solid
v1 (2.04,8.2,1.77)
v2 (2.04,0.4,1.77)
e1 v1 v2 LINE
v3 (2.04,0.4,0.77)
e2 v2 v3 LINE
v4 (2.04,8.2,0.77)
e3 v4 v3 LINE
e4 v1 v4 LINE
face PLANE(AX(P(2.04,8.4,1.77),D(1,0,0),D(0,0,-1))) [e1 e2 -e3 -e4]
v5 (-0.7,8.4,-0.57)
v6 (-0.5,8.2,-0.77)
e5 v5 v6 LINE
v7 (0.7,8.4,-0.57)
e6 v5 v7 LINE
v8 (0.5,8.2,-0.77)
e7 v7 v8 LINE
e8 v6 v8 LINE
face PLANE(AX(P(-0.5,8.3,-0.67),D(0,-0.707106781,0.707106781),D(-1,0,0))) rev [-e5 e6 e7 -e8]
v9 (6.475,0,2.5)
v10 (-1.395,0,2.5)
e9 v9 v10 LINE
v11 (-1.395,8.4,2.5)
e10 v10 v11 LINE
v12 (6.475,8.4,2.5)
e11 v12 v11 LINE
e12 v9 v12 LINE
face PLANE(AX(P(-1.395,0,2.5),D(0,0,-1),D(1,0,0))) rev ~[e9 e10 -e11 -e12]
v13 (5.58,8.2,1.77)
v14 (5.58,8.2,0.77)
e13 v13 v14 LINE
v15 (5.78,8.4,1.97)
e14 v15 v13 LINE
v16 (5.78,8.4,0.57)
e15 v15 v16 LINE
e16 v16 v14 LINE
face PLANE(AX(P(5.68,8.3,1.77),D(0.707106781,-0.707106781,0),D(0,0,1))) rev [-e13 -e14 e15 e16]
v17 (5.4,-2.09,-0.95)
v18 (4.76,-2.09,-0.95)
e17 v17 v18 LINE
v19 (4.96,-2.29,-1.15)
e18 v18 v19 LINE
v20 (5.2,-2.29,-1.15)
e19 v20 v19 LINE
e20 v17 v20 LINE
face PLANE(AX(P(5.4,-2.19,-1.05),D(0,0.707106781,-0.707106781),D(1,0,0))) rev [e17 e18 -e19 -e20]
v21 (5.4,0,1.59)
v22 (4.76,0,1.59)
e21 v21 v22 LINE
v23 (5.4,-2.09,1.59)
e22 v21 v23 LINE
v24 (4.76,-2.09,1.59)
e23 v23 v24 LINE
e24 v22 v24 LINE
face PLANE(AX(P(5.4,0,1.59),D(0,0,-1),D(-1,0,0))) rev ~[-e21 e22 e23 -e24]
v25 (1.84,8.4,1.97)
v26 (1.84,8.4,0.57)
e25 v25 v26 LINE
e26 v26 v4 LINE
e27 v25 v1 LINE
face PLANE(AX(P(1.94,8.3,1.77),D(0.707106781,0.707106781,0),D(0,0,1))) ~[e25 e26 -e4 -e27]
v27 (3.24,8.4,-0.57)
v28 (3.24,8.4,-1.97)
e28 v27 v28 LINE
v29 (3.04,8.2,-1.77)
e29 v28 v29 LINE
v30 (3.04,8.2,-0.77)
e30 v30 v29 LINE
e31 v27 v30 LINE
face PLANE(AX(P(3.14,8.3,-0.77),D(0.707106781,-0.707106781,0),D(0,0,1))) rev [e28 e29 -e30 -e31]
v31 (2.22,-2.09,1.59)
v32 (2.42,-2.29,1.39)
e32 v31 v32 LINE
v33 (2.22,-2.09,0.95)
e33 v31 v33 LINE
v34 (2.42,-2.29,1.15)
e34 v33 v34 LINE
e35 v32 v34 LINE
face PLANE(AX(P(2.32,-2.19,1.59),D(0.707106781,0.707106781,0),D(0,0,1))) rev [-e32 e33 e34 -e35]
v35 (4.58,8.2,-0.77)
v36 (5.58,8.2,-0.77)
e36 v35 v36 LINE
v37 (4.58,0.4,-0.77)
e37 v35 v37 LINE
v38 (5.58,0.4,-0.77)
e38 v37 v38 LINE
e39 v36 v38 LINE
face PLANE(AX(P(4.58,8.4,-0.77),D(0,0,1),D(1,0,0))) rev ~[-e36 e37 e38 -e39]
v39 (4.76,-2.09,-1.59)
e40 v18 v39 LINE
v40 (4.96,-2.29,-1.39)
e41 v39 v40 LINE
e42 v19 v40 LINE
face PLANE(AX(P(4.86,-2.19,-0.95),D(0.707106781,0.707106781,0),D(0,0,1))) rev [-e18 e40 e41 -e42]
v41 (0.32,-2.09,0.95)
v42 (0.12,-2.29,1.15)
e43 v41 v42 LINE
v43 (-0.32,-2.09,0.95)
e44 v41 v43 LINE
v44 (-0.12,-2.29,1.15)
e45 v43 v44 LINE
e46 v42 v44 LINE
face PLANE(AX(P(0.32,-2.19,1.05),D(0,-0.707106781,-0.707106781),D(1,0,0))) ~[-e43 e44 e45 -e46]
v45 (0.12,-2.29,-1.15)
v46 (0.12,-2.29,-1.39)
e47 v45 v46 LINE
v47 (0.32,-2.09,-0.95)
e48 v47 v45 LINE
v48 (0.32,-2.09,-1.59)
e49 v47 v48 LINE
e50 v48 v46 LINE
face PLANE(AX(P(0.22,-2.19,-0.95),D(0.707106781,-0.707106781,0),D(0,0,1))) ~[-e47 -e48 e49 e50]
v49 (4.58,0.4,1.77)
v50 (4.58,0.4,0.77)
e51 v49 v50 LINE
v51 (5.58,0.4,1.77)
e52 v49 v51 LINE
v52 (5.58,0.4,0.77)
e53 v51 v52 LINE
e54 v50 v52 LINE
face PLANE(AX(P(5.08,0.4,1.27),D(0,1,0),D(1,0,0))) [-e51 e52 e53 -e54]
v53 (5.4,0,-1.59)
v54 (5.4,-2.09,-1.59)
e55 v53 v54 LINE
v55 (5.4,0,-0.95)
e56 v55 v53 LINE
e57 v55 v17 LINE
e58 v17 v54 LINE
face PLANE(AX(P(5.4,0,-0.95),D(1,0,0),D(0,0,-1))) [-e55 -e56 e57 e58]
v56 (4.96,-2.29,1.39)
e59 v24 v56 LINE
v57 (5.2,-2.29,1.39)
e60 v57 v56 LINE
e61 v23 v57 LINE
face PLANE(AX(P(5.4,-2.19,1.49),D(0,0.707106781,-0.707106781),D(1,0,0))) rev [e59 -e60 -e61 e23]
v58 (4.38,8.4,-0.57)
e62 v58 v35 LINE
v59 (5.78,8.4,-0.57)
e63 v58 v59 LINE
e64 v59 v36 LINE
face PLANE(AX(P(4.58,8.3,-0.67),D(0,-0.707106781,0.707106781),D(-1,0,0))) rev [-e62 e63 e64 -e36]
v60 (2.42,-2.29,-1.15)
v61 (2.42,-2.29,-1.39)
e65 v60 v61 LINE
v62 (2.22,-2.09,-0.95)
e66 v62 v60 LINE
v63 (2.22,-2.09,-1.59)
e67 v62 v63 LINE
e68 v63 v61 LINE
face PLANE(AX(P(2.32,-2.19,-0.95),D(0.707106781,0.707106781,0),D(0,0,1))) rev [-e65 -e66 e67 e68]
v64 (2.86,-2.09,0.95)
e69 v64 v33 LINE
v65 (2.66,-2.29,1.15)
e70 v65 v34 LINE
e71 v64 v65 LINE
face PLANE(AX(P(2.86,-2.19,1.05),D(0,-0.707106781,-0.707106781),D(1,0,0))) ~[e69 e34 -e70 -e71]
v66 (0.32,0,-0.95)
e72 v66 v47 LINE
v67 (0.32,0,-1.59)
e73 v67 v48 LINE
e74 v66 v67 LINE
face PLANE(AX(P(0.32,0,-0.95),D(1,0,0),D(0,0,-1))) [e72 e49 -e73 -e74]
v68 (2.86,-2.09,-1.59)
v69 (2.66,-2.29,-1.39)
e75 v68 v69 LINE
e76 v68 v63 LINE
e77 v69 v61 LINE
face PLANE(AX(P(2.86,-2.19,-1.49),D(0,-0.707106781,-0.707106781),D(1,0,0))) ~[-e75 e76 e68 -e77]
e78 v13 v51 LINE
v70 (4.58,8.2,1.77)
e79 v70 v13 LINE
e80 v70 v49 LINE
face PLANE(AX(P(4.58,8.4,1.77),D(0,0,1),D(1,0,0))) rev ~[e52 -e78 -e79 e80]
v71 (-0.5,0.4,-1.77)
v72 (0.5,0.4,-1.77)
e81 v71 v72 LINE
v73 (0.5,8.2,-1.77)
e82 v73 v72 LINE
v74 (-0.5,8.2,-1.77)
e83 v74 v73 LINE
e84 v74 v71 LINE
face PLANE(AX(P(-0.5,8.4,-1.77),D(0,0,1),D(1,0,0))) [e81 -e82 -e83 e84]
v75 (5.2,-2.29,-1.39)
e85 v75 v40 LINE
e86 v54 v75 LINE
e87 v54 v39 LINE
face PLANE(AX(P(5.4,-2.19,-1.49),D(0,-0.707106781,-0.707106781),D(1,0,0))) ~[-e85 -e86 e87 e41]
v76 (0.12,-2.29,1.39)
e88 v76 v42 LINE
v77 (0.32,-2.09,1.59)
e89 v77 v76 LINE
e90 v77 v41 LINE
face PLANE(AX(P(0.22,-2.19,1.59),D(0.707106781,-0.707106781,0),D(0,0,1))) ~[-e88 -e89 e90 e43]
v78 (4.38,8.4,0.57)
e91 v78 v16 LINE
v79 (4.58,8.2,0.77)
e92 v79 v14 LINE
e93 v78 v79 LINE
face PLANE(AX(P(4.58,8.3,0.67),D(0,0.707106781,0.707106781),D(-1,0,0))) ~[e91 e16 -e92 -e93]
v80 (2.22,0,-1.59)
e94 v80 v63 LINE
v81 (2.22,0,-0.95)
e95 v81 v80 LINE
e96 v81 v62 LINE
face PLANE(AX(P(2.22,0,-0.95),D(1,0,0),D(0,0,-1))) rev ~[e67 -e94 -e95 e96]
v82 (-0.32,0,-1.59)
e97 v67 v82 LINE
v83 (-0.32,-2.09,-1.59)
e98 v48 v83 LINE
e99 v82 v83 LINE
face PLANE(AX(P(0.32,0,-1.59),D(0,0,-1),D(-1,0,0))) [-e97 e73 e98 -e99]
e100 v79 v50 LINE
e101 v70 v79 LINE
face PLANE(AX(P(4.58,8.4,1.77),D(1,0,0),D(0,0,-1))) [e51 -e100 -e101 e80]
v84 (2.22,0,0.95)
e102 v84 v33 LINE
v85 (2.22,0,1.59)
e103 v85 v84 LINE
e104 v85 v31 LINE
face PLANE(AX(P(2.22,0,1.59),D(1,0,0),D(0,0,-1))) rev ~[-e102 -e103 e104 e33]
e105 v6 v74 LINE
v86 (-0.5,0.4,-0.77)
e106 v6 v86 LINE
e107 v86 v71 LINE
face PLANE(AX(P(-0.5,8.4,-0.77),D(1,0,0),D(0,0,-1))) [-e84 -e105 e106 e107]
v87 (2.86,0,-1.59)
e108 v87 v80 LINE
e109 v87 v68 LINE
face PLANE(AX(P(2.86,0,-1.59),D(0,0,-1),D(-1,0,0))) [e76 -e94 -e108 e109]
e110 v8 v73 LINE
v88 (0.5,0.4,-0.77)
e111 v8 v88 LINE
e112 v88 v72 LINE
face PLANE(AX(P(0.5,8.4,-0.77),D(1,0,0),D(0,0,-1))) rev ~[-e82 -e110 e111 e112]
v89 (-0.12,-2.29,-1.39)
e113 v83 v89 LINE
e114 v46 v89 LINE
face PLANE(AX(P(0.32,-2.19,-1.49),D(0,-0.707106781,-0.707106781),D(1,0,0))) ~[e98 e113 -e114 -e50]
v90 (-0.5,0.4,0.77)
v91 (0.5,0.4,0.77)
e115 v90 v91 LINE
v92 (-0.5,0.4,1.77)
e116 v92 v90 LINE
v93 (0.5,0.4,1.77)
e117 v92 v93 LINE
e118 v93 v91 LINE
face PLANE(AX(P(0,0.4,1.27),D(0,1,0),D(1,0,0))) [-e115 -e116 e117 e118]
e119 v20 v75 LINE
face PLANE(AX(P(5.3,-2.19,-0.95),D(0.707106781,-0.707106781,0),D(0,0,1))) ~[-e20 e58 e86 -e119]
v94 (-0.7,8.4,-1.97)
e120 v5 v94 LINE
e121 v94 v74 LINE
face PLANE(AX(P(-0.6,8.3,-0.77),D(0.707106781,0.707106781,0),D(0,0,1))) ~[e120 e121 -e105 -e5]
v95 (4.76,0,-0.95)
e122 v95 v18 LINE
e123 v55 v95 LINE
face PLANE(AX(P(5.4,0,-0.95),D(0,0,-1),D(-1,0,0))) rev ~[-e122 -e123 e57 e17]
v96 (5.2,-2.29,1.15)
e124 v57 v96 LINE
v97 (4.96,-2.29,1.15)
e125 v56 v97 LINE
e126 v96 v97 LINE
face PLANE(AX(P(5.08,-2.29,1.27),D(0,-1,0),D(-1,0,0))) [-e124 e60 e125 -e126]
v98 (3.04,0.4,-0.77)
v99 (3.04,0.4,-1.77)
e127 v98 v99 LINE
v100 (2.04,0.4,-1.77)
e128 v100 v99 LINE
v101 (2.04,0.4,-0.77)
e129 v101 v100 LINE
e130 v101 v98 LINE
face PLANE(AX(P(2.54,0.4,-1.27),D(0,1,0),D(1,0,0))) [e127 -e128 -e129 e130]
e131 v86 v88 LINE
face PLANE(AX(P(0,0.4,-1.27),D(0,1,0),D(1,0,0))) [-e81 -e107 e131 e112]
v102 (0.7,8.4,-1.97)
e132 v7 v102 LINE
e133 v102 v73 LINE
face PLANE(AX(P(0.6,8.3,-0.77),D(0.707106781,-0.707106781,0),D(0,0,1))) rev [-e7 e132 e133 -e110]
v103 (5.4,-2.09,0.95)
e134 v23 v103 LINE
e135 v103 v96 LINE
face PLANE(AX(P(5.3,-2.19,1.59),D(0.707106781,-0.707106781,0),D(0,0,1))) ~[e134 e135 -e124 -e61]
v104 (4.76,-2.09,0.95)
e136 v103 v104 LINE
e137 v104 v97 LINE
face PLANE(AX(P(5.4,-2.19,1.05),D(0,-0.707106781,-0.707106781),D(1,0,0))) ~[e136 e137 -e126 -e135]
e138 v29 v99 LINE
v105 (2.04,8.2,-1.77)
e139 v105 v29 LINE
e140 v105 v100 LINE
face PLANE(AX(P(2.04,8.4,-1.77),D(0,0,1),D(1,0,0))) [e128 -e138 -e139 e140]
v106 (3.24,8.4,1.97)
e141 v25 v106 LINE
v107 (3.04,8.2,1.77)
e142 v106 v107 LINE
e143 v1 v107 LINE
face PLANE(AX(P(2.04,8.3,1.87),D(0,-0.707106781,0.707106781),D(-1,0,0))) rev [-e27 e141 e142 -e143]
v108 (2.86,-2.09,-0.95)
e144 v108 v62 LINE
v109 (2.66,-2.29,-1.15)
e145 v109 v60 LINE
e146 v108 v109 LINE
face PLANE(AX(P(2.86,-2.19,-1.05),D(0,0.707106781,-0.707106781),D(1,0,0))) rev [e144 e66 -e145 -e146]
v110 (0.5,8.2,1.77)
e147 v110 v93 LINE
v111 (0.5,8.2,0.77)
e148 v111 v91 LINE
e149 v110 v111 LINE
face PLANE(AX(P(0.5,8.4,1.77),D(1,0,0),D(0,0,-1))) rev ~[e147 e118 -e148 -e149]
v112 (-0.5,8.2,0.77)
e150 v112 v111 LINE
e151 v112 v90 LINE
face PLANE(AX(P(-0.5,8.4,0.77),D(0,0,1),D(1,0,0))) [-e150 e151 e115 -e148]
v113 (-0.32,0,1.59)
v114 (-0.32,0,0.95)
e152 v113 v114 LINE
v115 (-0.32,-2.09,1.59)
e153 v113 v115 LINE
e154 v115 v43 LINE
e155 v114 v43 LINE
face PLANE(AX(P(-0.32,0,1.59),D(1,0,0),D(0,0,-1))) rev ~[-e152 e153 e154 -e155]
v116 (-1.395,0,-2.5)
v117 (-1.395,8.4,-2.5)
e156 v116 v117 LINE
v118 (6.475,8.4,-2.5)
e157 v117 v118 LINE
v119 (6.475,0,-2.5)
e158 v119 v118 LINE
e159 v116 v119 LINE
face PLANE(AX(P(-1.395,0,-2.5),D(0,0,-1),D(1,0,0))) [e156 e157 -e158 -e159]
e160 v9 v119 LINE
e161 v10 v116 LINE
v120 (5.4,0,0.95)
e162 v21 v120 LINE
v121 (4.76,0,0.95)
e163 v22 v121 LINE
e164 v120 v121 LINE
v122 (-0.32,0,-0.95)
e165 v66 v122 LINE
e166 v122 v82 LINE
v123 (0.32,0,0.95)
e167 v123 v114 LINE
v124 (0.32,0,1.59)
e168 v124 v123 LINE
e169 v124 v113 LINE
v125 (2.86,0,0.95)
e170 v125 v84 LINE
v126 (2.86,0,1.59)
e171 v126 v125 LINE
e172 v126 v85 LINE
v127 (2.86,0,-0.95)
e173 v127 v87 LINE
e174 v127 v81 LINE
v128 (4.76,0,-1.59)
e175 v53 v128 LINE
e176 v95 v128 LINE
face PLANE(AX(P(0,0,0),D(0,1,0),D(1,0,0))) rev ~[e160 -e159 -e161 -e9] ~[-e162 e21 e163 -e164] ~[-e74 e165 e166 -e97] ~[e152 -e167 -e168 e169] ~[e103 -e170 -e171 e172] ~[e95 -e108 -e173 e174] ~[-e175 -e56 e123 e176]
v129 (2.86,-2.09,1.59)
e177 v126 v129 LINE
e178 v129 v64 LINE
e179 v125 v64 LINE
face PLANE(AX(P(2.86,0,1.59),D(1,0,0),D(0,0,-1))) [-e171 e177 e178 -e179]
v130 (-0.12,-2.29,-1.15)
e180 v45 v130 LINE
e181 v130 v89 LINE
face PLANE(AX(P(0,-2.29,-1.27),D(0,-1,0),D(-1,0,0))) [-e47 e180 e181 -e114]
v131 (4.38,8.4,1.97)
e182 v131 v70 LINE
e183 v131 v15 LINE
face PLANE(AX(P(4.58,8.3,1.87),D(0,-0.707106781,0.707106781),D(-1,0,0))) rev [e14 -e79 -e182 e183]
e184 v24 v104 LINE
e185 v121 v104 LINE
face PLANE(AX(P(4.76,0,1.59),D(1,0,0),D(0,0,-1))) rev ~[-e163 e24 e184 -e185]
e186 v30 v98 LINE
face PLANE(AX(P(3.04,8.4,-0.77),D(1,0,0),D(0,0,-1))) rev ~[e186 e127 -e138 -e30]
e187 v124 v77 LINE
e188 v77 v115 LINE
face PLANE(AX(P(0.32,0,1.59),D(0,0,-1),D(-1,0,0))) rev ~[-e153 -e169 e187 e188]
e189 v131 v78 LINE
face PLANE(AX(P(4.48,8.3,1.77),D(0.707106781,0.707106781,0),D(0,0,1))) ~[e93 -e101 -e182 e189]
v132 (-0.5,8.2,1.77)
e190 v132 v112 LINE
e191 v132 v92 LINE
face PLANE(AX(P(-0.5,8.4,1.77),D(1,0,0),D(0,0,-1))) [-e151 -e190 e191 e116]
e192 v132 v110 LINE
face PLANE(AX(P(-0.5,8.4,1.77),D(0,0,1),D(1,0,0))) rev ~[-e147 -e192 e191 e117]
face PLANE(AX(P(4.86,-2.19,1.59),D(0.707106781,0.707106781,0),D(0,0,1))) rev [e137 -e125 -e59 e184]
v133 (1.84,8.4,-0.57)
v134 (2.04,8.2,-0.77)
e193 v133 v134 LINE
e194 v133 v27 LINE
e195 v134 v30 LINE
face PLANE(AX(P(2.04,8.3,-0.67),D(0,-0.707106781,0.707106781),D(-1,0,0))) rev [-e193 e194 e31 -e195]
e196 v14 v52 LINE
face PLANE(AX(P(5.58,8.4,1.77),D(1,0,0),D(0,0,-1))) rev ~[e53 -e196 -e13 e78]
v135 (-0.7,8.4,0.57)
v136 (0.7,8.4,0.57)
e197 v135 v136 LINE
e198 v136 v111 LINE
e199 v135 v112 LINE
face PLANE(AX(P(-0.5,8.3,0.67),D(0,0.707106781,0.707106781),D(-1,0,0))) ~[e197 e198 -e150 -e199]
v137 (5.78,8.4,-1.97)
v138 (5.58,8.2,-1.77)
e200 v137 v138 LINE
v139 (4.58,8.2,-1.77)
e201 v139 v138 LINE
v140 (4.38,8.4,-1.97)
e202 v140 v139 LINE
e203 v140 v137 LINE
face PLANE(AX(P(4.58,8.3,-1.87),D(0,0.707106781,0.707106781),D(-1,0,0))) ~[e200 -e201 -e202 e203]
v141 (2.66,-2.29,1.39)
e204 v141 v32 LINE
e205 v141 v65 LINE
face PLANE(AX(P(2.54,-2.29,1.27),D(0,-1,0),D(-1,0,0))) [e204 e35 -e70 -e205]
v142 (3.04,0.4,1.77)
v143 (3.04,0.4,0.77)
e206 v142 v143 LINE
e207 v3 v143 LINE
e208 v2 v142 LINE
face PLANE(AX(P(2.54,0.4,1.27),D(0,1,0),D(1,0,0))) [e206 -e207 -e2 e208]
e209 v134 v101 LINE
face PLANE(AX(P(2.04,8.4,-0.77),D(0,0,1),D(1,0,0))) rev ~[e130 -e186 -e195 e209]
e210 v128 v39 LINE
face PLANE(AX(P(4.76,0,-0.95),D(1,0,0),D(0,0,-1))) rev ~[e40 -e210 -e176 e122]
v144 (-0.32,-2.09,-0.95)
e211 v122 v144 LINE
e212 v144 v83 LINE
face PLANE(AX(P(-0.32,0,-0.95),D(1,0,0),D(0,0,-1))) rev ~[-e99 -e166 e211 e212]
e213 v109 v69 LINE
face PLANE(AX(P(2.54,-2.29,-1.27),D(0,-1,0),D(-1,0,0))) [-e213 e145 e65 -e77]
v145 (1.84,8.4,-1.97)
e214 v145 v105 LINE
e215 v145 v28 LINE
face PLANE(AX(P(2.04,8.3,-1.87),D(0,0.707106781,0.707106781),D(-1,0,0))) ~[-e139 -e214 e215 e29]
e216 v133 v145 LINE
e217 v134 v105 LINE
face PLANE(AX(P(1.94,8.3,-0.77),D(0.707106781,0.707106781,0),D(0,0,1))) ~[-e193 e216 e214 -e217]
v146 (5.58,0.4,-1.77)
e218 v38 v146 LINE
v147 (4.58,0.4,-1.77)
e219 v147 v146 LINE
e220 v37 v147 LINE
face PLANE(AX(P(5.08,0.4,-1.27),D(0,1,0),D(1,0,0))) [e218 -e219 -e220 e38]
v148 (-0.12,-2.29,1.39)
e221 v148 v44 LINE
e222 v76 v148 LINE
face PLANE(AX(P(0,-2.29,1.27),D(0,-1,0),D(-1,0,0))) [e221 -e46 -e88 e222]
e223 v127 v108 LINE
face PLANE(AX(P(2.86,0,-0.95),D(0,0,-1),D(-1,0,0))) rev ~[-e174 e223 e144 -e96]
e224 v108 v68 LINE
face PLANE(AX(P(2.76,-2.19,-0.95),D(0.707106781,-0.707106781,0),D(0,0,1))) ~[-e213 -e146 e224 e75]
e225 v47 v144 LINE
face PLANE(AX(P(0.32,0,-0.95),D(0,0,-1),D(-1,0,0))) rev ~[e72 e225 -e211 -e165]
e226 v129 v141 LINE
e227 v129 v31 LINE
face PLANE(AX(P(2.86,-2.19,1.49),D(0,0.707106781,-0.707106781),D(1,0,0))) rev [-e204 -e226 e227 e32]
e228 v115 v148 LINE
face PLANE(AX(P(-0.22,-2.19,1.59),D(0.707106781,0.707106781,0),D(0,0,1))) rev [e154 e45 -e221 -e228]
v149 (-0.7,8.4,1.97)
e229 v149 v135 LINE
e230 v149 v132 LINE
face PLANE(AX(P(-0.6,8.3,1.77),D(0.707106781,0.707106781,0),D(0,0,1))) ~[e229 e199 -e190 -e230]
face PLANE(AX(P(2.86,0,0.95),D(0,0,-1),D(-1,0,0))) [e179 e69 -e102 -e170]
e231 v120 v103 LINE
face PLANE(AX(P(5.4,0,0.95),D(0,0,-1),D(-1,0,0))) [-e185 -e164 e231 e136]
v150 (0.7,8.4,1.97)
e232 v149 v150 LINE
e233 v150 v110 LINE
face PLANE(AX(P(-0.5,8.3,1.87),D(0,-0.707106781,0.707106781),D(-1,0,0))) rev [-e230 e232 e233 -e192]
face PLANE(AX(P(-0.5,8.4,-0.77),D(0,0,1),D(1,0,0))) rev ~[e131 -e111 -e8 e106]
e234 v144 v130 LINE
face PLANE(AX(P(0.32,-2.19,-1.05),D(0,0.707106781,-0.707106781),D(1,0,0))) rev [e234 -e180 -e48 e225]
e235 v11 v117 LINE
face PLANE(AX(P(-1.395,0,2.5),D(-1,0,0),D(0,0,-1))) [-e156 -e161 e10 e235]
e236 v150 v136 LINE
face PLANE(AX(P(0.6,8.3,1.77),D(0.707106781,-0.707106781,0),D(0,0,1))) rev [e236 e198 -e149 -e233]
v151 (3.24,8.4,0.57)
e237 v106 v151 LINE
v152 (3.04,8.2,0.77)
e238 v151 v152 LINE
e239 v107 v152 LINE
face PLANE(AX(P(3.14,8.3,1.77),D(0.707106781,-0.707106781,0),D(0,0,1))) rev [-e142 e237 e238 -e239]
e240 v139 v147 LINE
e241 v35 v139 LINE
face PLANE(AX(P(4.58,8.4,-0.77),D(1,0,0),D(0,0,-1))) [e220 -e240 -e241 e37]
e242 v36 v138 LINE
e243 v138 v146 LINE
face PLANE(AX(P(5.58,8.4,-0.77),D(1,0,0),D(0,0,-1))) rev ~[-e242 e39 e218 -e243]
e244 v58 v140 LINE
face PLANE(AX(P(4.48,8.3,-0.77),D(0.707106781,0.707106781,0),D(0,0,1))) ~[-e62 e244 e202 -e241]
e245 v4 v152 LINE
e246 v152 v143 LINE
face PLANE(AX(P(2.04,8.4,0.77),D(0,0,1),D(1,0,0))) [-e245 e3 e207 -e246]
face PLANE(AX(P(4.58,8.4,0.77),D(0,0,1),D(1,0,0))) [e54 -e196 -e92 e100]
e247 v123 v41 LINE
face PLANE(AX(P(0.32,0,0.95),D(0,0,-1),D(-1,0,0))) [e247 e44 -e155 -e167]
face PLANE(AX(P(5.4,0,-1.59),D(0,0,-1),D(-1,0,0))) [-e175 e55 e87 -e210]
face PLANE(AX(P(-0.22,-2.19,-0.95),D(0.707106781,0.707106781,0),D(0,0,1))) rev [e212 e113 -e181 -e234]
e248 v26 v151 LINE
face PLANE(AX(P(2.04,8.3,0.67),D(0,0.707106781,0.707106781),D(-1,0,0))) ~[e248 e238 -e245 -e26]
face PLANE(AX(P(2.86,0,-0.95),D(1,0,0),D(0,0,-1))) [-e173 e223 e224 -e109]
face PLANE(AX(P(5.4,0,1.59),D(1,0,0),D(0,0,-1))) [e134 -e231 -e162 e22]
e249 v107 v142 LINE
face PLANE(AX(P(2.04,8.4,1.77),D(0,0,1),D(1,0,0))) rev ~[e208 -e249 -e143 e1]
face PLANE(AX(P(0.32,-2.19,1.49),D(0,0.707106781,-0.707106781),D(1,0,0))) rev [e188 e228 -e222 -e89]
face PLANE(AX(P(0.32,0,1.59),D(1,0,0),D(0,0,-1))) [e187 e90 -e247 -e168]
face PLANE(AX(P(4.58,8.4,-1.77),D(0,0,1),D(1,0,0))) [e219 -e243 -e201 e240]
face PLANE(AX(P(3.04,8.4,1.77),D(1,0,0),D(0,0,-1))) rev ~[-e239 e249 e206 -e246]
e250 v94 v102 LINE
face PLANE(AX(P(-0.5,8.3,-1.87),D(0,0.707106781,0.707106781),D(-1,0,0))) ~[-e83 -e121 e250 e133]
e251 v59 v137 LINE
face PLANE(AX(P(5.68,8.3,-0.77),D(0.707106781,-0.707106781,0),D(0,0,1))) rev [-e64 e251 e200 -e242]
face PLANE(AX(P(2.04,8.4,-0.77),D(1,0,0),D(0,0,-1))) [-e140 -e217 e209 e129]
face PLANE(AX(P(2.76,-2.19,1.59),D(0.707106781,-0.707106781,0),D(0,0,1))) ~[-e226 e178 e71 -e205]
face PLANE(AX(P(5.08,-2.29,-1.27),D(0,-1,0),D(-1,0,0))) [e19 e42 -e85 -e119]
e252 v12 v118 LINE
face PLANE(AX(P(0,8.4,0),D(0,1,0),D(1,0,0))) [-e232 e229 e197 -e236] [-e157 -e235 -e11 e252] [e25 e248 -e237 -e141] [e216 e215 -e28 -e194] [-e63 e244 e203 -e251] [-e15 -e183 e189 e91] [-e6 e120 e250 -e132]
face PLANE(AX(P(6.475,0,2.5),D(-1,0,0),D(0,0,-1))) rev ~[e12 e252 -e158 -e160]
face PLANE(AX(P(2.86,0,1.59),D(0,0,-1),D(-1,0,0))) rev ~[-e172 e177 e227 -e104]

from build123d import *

# Parameters (mm, degrees)
SKETCH_1_W                         = 2.79
SKETCH_1_H                         = 5
EXTRUDE_1_DEPTH                    = 8.4
SKETCH_2_W                         = 1
SKETCH_2_H                         = 1
CUT_EXTRUDE_1_DEPTH                = 8
CHAMFER_1_SIZE                     = 0.2
SKETCH_3_W                         = 0.64
SKETCH_3_H                         = 0.64
EXTRUDE_2_DEPTH                    = 2.29
CHAMFER_2_SIZE                     = 0.2
PATTERN_LINEAR_1_COUNT             = 3
PATTERN_LINEAR_1_PITCH             = 2.54
CHAMFER_1_OF_PATTERN_LINEAR_1_SIZE = 0.2
CHAMFER_2_OF_PATTERN_LINEAR_1_SIZE = 0.2


with BuildPart() as part:
    # Эскиз1 → Бобышка-Вытянуть1 (new body)
    with BuildSketch(Plane(origin=(0, 0, 0), x_dir=(1, 0, 0), z_dir=(0, 1, 0))):
        Rectangle(SKETCH_1_W, SKETCH_1_H)
    extrude_1 = extrude(amount=EXTRUDE_1_DEPTH)

    # Эскиз2 → Вырез-Вытянуть1 (cut)
    with BuildSketch(Plane(origin=(0, 8.4, 0), x_dir=(1, 0, 0), z_dir=(0, 1, 0))):
        with Locations((0, 1.27)):
            Rectangle(SKETCH_2_W, SKETCH_2_H)
        with Locations((0, -1.27)):
            Rectangle(SKETCH_2_W, SKETCH_2_H)
    cut_extrude_1 = extrude(amount=-CUT_EXTRUDE_1_DEPTH, mode=Mode.SUBTRACT)

    # Фаска1
    chamfer_1_edges = [part.edges().sort_by_distance(p)[0] for p in [
        (0.5, 8.4, -1.27),
        (0, 8.4, -1.77),
        (-0.5, 8.4, -1.27),
        (0, 8.4, -0.77),
        (0, 8.4, 1.77),
        (0.5, 8.4, 1.27),
        (0, 8.4, 0.77),
        (-0.5, 8.4, 1.27),
    ]]
    chamfer(chamfer_1_edges, length=CHAMFER_1_SIZE)

    # Эскиз3 → Бобышка-Вытянуть2 (add)
    with BuildSketch(Plane(origin=(0, 0, 0), x_dir=(-1, 0, 0), z_dir=(0, -1, 0))):
        with Locations((0, 1.27)):
            Rectangle(SKETCH_3_W, SKETCH_3_H)
        with Locations((0, -1.27)):
            Rectangle(SKETCH_3_W, SKETCH_3_H)
    extrude_2 = extrude(amount=EXTRUDE_2_DEPTH)

    # Фаска2
    chamfer_2_edges = [part.edges().sort_by_distance(p)[0] for p in [
        (0.32, -2.29, -1.27),
        (0, -2.29, -0.95),
        (-0.32, -2.29, -1.27),
        (0, -2.29, -1.59),
        (-0.32, -2.29, 1.27),
        (0, -2.29, 0.95),
        (0.32, -2.29, 1.27),
        (0, -2.29, 1.59),
    ]]
    chamfer(chamfer_2_edges, length=CHAMFER_2_SIZE)

    # Линейный массив1: Бобышка-Вытянуть1, Вырез-Вытянуть1, Бобышка-Вытянуть2 ×3
    with Locations(*[(i * PATTERN_LINEAR_1_PITCH, 0, 0) for i in range(1, PATTERN_LINEAR_1_COUNT)]):
        add(extrude_1)
        add(cut_extrude_1, mode=Mode.SUBTRACT)
        add(extrude_2)

    # Фаска1 of Линейный массив1
    chamfer_1_of_pattern_linear_1_edges = [part.edges().sort_by_distance(p)[0] for p in [
        (3.04, 8.4, -1.27),
        (2.54, 8.4, -1.77),
        (2.04, 8.4, -1.27),
        (2.54, 8.4, -0.77),
        (2.54, 8.4, 1.77),
        (3.04, 8.4, 1.27),
        (2.54, 8.4, 0.77),
        (2.04, 8.4, 1.27),
        (5.58, 8.4, -1.27),
        (5.08, 8.4, -1.77),
        (4.58, 8.4, -1.27),
        (5.08, 8.4, -0.77),
        (5.08, 8.4, 1.77),
        (5.58, 8.4, 1.27),
        (5.08, 8.4, 0.77),
        (4.58, 8.4, 1.27),
    ]]
    chamfer(chamfer_1_of_pattern_linear_1_edges, length=CHAMFER_1_OF_PATTERN_LINEAR_1_SIZE)

    # Фаска2 of Линейный массив1
    chamfer_2_of_pattern_linear_1_edges = [part.edges().sort_by_distance(p)[0] for p in [
        (2.86, -2.29, -1.27),
        (2.54, -2.29, -0.95),
        (2.22, -2.29, -1.27),
        (2.54, -2.29, -1.59),
        (2.22, -2.29, 1.27),
        (2.54, -2.29, 0.95),
        (2.86, -2.29, 1.27),
        (2.54, -2.29, 1.59),
        (5.4, -2.29, -1.27),
        (5.08, -2.29, -0.95),
        (4.76, -2.29, -1.27),
        (5.08, -2.29, -1.59),
        (4.76, -2.29, 1.27),
        (5.08, -2.29, 0.95),
        (5.4, -2.29, 1.27),
        (5.08, -2.29, 1.59),
    ]]
    chamfer(chamfer_2_of_pattern_linear_1_edges, length=CHAMFER_2_OF_PATTERN_LINEAR_1_SIZE)


solid = part.part
